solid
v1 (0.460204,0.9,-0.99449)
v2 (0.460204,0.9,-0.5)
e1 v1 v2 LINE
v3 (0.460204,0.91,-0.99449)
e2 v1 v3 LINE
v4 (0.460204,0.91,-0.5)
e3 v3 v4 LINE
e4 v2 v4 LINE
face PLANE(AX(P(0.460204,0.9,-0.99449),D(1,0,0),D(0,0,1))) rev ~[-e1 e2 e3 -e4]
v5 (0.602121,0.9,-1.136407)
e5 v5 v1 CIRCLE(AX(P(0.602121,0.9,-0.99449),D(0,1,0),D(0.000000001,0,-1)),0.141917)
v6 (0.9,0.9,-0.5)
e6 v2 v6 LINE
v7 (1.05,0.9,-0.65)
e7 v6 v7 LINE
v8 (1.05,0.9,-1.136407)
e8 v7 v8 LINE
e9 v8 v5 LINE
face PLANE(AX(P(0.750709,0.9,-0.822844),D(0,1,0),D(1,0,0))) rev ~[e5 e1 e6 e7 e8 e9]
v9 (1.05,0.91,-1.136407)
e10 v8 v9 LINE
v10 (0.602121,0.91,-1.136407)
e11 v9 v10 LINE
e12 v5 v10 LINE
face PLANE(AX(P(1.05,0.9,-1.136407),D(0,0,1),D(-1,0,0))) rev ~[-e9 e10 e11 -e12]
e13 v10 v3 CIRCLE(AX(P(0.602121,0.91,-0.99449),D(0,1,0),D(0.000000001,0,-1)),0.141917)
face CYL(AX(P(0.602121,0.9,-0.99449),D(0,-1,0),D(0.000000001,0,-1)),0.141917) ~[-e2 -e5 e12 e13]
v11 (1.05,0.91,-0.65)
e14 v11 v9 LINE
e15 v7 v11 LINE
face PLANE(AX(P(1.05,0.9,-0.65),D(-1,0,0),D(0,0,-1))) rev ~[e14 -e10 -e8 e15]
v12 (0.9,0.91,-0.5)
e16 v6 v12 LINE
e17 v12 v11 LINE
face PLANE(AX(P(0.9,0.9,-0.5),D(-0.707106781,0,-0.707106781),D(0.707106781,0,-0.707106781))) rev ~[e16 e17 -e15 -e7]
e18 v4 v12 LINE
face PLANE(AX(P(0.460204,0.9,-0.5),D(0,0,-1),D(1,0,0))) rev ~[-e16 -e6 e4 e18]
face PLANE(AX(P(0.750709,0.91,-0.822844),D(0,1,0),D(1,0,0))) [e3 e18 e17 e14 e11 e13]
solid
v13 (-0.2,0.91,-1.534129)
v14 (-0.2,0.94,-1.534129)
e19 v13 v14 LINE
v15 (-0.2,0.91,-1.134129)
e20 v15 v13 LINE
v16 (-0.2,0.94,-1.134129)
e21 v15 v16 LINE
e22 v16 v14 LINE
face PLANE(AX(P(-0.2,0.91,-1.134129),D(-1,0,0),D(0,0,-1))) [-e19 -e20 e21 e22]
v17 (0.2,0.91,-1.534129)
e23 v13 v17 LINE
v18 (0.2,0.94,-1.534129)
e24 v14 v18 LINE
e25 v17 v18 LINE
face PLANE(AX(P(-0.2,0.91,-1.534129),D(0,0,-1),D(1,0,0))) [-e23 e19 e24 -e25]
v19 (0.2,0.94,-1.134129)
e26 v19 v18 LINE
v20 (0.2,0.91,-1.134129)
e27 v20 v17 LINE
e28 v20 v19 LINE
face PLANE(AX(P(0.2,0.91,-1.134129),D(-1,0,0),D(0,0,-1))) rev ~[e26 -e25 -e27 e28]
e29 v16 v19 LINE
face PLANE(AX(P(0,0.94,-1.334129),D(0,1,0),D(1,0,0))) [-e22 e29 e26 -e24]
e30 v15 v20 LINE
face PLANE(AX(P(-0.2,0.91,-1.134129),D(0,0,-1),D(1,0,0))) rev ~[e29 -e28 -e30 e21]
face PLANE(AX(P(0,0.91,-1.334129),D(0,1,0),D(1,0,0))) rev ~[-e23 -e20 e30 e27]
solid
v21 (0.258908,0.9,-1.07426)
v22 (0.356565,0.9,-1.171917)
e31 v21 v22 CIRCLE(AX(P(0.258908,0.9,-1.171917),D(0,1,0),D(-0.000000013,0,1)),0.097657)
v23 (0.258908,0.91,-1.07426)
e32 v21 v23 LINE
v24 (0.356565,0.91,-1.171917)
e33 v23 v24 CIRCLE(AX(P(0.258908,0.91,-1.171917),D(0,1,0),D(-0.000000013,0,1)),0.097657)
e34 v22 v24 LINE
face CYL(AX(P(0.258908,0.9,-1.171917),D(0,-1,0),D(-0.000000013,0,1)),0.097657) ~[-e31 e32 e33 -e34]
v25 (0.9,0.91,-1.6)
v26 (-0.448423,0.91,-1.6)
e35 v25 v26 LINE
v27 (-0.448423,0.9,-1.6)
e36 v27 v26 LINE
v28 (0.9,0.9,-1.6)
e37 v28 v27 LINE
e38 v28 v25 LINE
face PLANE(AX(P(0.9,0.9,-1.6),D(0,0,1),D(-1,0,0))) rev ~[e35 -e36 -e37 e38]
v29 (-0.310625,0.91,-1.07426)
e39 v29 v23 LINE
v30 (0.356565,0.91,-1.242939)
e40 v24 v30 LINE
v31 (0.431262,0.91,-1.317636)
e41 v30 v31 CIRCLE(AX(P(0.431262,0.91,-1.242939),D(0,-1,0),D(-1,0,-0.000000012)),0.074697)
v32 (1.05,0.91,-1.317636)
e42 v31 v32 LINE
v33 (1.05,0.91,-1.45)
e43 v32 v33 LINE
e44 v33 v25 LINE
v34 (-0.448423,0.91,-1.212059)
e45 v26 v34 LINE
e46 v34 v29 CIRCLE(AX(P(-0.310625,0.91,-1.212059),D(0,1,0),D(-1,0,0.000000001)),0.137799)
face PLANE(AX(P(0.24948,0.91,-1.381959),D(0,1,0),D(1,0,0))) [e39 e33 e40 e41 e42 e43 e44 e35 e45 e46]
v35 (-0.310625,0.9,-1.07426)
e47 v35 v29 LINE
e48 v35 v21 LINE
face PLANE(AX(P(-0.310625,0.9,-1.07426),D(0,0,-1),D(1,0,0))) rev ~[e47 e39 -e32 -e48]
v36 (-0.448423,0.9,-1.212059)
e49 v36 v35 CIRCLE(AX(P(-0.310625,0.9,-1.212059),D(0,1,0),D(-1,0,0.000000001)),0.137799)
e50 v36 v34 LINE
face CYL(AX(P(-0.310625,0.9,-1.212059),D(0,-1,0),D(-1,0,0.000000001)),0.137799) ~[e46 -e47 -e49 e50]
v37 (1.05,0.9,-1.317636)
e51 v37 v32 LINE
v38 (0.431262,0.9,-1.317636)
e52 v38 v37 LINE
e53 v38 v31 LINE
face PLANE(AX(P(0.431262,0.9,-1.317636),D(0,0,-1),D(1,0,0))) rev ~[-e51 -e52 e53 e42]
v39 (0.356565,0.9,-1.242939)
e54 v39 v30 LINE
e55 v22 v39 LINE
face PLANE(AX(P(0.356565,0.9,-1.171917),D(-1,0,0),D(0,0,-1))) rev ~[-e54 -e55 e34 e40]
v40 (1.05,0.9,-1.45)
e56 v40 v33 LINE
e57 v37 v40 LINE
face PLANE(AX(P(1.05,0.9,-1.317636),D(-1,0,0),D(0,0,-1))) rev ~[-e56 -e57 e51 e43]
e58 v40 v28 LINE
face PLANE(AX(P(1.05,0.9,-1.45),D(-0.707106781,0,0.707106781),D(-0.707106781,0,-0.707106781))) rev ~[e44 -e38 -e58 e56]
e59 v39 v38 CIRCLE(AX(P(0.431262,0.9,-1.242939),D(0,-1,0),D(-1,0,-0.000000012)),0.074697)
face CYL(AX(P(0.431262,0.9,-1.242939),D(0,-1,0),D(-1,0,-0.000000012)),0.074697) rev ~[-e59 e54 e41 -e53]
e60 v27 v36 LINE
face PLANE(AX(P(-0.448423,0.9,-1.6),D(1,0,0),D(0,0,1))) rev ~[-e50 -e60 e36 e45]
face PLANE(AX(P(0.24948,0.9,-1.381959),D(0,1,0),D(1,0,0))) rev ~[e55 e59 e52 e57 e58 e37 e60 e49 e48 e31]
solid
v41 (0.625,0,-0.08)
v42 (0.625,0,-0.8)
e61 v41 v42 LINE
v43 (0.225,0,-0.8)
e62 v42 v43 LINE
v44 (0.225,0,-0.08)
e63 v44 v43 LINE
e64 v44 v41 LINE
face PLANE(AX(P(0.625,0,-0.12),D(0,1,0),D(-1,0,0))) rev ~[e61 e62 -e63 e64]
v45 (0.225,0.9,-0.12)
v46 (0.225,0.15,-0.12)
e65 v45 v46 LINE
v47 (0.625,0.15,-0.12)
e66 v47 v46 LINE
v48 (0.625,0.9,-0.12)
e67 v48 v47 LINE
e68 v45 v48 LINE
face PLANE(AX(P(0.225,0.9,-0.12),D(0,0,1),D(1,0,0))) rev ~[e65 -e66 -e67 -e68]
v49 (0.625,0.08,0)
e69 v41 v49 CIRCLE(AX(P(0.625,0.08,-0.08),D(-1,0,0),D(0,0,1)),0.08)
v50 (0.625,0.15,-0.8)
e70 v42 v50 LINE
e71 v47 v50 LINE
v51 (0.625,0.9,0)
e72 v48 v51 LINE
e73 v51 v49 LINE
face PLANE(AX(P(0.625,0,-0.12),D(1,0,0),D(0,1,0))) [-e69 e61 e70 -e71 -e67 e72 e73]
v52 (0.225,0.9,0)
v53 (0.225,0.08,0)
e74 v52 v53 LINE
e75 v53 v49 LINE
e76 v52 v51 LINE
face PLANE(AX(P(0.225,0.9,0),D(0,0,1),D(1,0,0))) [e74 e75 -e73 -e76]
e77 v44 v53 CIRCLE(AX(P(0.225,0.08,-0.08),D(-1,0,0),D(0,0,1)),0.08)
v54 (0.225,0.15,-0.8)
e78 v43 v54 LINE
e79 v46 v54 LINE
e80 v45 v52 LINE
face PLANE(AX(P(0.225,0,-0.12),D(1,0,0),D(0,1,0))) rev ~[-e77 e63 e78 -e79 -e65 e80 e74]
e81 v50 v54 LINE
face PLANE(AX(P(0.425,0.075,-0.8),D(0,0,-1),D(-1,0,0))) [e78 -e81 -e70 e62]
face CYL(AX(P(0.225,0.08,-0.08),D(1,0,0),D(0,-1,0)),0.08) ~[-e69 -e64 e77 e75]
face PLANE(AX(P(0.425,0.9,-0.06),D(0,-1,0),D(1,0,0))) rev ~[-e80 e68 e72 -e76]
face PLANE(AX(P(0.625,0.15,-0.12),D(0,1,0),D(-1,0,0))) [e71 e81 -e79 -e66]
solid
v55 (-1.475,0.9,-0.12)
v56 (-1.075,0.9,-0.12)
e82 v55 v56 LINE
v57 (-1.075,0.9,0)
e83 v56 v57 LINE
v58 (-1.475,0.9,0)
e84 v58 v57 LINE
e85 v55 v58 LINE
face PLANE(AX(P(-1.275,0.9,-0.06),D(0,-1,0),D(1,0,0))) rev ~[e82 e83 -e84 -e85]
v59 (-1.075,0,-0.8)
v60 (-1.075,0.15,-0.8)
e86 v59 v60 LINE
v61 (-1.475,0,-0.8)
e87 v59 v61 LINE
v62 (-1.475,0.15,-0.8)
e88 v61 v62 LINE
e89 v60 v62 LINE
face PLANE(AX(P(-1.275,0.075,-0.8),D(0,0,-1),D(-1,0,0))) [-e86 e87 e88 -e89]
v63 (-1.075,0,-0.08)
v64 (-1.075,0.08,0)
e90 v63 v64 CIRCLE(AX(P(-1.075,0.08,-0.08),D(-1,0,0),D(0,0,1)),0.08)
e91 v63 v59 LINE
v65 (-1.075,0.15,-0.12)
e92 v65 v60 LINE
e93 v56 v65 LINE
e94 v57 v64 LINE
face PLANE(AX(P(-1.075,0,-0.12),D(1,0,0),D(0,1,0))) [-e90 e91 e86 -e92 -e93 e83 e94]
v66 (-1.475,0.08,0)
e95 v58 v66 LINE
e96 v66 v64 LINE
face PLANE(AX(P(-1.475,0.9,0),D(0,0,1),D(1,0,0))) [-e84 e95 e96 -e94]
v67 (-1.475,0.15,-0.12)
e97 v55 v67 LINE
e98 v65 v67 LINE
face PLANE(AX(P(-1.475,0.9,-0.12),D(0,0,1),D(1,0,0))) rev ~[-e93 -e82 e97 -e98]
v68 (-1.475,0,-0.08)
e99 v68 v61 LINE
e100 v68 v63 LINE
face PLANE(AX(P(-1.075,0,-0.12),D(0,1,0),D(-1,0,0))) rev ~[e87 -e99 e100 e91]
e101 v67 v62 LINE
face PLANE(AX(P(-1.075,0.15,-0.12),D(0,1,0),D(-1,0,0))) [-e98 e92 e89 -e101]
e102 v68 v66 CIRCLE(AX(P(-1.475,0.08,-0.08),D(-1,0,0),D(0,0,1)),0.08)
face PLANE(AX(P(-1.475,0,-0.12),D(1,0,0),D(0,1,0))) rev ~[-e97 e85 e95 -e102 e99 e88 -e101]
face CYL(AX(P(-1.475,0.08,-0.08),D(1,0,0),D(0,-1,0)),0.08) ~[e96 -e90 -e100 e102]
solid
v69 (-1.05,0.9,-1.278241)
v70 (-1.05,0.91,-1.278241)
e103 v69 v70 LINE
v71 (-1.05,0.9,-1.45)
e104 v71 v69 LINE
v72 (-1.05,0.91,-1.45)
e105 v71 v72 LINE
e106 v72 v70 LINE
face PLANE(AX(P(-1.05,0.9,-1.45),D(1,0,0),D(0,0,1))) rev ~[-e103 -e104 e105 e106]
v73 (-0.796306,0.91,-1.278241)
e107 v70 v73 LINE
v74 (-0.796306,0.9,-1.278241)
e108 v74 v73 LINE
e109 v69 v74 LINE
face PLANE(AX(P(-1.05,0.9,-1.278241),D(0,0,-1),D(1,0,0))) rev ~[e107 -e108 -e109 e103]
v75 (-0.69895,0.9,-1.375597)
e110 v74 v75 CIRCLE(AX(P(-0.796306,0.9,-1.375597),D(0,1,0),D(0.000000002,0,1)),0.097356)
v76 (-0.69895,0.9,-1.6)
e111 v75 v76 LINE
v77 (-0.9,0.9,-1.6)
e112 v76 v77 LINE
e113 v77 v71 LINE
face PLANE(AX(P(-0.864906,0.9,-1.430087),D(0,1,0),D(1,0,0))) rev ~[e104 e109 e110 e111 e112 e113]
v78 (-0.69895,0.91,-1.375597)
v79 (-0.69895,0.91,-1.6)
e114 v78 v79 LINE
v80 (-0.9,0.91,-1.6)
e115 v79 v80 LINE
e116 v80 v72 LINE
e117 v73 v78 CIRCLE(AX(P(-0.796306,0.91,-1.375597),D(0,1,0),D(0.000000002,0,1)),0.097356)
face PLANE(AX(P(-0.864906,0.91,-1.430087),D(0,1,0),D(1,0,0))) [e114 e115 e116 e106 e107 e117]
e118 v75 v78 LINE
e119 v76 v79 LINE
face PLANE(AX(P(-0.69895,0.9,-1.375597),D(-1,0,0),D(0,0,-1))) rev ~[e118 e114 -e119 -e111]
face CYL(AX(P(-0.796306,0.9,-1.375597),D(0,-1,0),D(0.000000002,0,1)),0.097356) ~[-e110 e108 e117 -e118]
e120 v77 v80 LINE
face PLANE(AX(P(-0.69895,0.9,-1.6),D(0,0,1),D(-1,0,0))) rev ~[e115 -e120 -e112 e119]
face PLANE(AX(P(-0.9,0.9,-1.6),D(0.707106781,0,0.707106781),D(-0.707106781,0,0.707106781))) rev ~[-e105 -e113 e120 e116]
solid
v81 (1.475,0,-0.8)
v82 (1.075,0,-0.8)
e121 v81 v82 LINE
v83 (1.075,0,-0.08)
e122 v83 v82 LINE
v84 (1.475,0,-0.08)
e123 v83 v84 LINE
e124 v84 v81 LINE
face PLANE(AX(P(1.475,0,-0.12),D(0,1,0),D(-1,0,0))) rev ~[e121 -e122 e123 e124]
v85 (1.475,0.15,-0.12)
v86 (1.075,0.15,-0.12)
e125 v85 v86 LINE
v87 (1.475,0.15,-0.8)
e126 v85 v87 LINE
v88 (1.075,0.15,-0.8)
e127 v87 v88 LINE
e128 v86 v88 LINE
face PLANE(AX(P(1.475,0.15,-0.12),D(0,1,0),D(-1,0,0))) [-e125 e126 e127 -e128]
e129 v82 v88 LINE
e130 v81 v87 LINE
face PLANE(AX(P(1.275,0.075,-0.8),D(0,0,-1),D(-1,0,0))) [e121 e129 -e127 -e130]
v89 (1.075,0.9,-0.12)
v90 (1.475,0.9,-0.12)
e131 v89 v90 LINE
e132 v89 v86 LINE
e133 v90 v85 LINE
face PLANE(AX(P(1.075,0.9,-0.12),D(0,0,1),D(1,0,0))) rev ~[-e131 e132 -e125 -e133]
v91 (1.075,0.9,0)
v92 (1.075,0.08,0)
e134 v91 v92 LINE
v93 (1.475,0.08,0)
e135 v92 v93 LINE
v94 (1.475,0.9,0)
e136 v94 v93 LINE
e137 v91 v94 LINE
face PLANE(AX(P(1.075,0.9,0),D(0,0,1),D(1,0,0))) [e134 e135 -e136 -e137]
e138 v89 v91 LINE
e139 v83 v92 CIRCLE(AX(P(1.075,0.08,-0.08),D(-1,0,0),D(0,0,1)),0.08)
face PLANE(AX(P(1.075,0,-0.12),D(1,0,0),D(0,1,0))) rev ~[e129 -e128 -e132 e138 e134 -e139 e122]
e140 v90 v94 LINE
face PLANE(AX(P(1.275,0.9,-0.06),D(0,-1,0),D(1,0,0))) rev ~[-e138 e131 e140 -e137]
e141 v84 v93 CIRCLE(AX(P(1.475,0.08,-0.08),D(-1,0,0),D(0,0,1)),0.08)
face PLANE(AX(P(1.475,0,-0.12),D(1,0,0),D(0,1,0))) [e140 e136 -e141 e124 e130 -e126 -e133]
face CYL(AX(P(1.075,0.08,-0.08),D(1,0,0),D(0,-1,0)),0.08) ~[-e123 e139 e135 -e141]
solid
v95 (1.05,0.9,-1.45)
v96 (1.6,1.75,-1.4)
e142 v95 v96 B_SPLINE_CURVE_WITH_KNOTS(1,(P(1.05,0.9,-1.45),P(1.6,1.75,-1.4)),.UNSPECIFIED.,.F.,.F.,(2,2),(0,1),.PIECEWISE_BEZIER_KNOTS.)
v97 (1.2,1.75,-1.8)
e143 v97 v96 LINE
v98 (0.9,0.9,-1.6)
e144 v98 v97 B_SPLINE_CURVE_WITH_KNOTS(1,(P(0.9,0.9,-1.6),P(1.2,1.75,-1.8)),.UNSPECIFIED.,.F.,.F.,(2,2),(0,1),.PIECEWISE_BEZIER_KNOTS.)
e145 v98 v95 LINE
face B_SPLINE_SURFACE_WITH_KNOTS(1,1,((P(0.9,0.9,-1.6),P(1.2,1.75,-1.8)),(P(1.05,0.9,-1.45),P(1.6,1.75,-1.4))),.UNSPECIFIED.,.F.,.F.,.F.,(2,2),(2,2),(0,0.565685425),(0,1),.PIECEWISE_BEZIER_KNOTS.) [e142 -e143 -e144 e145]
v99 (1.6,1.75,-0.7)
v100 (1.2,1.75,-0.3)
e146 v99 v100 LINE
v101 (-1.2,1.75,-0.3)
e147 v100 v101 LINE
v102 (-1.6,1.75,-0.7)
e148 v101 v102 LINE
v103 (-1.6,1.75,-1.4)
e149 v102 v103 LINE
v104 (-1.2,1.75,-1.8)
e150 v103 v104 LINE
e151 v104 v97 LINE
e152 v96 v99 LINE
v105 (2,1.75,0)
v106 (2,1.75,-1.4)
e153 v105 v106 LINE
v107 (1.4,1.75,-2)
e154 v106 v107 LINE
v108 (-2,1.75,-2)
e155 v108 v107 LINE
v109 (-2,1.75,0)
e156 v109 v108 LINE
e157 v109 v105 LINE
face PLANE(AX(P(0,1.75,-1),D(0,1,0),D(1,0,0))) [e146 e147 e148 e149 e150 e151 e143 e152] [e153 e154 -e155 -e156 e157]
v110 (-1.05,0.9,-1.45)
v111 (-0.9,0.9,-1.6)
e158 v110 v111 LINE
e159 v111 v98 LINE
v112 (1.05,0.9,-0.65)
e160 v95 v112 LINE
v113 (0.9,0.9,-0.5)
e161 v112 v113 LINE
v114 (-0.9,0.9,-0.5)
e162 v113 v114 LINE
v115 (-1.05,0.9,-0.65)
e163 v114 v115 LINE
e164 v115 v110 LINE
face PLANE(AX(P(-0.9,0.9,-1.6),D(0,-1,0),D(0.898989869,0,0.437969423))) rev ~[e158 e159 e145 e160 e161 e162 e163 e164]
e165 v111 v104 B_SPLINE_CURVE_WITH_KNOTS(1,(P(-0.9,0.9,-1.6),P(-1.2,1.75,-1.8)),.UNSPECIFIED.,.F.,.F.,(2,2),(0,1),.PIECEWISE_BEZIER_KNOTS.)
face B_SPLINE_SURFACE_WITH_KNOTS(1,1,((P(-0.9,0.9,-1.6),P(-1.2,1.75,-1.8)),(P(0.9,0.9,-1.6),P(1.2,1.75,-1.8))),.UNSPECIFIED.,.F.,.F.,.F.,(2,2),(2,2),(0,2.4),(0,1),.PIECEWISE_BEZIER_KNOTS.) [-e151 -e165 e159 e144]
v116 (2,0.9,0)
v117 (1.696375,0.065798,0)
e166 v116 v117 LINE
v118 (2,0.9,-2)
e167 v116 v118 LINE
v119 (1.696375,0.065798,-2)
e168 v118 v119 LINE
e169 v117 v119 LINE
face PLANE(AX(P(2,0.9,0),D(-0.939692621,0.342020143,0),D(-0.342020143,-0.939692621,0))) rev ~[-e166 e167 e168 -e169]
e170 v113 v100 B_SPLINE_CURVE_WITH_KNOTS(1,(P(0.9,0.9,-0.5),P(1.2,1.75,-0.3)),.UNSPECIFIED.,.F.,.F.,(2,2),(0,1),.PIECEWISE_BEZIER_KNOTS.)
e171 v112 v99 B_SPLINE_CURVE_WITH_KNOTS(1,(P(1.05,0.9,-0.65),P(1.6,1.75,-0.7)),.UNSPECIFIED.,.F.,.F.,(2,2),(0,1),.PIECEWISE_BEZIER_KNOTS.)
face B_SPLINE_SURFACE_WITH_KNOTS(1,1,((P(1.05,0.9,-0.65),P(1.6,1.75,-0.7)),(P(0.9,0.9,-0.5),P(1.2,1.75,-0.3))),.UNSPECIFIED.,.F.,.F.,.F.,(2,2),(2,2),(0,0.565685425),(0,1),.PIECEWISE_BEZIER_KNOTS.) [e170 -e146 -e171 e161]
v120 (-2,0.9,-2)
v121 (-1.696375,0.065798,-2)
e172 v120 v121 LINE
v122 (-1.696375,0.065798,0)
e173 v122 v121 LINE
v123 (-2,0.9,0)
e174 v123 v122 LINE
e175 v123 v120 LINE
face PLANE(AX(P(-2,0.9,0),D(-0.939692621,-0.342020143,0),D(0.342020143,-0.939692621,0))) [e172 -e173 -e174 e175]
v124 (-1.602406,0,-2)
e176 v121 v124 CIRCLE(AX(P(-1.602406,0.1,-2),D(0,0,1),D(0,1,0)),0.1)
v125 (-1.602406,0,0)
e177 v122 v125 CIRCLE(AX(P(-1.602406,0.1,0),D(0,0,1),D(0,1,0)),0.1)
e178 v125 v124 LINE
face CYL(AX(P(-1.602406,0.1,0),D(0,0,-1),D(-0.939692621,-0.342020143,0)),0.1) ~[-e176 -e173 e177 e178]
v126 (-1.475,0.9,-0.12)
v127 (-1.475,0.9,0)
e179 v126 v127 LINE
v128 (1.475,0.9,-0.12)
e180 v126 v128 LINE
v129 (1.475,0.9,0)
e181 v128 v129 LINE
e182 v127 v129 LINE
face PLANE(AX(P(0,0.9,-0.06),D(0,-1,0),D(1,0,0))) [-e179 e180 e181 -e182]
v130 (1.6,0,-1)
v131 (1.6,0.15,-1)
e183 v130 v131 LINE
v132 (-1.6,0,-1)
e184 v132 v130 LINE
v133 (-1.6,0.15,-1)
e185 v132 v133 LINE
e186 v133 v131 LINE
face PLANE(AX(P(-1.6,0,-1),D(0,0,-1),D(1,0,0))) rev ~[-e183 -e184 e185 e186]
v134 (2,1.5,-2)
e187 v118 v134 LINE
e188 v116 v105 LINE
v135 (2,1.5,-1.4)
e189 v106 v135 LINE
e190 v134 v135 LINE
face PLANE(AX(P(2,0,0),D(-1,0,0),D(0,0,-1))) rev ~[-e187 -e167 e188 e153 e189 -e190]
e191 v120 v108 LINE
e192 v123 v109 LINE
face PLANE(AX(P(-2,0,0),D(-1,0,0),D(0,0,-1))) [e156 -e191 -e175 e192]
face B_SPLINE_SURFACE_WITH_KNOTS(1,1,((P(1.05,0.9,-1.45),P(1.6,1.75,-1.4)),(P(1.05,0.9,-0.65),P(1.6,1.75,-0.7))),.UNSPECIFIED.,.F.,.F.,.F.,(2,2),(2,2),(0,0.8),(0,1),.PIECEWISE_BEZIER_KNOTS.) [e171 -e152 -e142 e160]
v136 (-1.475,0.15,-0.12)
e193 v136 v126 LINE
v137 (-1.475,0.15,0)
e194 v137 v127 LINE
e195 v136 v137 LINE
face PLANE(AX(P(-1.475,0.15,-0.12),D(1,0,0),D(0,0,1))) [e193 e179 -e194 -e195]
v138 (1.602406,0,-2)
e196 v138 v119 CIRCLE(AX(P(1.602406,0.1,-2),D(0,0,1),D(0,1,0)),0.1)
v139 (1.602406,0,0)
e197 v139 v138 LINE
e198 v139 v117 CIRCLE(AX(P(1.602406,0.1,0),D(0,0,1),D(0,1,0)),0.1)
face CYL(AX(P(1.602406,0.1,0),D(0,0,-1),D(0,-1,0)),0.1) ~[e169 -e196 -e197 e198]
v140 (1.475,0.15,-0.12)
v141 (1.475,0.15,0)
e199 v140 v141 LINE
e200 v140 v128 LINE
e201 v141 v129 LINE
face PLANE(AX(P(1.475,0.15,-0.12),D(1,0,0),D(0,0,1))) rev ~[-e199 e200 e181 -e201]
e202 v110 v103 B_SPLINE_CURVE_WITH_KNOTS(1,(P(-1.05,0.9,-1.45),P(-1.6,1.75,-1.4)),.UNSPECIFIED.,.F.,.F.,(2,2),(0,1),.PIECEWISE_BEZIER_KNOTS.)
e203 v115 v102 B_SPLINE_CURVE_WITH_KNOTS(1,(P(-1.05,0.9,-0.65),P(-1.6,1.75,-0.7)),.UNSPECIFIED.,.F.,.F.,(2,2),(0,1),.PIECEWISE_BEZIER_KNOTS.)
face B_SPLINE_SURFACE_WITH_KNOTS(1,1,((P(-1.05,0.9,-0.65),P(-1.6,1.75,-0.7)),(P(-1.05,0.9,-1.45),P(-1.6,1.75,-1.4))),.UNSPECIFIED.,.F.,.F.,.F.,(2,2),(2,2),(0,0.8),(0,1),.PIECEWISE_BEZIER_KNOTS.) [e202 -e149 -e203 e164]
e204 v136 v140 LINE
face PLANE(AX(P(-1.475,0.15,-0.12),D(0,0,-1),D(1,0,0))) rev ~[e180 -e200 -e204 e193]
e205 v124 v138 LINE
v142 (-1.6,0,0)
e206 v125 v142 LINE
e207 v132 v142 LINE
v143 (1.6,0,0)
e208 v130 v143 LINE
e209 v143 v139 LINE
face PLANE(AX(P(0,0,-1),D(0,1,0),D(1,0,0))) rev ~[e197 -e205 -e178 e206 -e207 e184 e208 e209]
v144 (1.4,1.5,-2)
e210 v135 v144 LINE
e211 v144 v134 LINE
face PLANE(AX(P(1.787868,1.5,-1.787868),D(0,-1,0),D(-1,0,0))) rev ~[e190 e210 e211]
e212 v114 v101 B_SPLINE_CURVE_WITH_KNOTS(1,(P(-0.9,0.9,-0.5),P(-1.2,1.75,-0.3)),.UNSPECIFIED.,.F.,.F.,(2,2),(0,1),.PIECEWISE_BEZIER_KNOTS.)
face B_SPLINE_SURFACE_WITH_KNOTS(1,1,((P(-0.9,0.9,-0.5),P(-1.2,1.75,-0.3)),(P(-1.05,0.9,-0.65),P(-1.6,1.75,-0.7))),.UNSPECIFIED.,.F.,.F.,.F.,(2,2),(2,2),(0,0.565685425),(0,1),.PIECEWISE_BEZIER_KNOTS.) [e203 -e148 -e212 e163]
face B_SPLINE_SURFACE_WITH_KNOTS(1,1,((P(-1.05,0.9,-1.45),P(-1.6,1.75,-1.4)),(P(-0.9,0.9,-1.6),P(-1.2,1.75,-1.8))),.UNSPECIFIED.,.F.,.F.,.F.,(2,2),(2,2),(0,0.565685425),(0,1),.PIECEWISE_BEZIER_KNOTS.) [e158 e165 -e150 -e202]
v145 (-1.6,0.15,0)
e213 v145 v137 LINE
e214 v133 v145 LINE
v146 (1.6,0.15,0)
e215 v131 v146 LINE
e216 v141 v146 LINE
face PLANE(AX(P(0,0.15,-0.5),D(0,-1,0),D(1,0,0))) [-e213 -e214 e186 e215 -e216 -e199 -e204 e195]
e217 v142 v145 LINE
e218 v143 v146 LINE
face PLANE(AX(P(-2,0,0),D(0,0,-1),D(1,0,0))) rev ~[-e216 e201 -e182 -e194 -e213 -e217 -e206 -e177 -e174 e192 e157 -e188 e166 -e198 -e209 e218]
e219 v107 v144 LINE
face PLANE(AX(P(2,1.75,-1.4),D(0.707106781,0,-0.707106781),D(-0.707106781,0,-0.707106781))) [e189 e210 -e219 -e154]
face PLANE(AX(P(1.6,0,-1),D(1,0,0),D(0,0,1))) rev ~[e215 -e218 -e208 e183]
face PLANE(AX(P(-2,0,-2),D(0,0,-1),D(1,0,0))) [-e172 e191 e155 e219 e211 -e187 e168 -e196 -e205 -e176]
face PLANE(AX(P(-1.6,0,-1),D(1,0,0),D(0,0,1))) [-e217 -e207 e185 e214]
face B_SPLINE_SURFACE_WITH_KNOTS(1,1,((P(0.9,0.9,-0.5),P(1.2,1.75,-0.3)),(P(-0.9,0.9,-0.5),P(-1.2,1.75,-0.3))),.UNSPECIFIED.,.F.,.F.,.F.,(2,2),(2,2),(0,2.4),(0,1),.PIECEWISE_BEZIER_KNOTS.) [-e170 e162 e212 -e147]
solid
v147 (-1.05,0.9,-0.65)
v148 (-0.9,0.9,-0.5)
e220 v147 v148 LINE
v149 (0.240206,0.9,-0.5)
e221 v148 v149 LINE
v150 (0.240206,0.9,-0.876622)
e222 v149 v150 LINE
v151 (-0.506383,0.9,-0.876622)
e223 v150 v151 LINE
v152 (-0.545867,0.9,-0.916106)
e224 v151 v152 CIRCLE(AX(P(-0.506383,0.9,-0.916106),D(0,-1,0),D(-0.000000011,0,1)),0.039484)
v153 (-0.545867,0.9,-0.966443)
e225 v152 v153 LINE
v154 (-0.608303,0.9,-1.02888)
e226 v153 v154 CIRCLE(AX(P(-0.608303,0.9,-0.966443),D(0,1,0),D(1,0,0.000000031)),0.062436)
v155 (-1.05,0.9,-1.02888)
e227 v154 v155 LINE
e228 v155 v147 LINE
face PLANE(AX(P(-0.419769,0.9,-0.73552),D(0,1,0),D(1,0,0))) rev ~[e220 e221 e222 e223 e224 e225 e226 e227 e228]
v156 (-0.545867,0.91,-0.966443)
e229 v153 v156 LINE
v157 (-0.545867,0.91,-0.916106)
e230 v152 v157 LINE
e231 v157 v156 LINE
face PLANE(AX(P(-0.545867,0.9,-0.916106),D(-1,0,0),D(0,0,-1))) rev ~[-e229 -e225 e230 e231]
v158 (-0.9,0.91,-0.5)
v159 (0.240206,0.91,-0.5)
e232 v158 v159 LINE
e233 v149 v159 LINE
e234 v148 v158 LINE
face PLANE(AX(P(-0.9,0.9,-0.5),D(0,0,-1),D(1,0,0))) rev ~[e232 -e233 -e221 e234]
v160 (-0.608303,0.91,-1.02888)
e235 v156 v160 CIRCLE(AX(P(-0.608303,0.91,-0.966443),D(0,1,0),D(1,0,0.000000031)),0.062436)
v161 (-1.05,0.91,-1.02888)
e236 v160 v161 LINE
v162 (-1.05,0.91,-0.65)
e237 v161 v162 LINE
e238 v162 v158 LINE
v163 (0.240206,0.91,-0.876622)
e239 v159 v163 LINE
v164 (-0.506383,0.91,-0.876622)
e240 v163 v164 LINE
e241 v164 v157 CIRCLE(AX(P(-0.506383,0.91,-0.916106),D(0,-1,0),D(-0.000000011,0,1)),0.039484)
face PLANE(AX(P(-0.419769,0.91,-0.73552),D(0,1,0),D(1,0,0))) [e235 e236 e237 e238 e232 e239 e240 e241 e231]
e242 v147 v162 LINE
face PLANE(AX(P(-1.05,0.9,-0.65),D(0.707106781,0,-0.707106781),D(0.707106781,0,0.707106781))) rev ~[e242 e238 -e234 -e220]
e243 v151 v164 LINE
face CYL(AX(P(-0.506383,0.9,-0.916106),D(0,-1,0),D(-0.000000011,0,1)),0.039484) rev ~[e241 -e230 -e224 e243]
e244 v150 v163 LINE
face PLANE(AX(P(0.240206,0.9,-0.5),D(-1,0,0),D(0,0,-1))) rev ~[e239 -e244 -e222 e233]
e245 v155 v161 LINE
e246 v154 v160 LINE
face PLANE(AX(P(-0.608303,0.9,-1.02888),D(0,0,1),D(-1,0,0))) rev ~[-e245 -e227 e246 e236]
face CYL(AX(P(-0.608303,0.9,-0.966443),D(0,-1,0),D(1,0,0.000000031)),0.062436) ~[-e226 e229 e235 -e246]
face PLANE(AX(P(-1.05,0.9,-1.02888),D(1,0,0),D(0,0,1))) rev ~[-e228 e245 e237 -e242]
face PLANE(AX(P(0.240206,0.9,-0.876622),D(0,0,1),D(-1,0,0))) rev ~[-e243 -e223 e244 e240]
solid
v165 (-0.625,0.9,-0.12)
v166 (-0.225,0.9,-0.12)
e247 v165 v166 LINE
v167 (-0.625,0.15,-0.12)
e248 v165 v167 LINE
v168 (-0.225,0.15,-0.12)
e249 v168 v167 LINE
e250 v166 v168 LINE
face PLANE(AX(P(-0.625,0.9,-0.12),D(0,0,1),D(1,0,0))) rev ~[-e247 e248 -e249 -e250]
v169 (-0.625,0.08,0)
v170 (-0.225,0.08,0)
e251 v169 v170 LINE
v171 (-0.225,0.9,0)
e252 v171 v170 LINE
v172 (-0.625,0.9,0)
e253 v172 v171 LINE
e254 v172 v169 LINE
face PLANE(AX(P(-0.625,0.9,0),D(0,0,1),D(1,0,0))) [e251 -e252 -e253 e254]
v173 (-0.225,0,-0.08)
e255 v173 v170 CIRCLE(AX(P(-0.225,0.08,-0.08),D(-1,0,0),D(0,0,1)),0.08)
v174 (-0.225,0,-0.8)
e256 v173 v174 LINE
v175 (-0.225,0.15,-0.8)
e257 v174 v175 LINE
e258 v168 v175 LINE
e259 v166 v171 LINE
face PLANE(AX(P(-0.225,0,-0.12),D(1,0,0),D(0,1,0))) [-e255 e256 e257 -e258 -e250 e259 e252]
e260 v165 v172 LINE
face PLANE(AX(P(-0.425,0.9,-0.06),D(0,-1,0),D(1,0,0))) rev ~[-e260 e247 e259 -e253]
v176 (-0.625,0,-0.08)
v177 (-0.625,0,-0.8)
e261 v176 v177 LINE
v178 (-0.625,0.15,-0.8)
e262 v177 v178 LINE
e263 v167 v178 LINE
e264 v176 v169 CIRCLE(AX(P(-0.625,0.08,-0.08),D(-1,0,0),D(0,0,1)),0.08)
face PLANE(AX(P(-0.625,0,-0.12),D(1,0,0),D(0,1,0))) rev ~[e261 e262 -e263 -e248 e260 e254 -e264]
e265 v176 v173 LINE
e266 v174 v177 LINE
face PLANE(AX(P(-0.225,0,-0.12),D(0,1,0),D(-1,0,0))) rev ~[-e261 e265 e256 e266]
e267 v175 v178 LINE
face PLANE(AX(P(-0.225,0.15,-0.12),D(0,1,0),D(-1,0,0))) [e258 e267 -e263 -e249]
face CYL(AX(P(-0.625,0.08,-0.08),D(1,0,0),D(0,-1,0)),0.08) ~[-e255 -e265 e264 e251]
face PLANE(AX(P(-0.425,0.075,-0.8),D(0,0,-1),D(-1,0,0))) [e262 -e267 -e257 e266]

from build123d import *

# Parameters (mm, degrees)
SKETCH_1_W          = 4
SKETCH_1_H          = 2
EXTRUDE_1_DEPTH     = 1.75
CUT_EXTRUDE_1_REACH = 4
CUT_EXTRUDE_2_DEPTH = 0.25
FILLET_1_R          = 0.1
SKETCH_8_W          = 3.2
SKETCH_8_H          = 1
CUT_EXTRUDE_3_DEPTH = 0.15
SKETCH_9_W          = 2.95
SKETCH_9_H          = 0.12
CUT_EXTRUDE_4_DEPTH = 0.75
SKETCH_10_W         = 0.4
SKETCH_10_H         = 0.12
EXTRUDE_2_DEPTH     = 0.9
EXTRUDE_2_2_DEPTH   = 0.9
EXTRUDE_2_3_DEPTH   = 0.9
EXTRUDE_2_4_DEPTH   = 0.9
SKETCH_11_W         = 0.4
SKETCH_11_H         = 0.15
EXTRUDE_3_DEPTH     = 0.68
SKETCH_13_W         = 0.4
SKETCH_13_H         = 0.15
EXTRUDE_4_DEPTH     = 0.68
SKETCH_16_W         = 0.4
SKETCH_16_H         = 0.15
EXTRUDE_5_DEPTH     = 0.68
SKETCH_17_W         = 0.4
SKETCH_17_H         = 0.15
EXTRUDE_6_DEPTH     = 0.68
FILLET_2_R          = 0.08
FILLET_3_R          = 0.08
FILLET_4_R          = 0.08
FILLET_5_R          = 0.08
EXTRUDE_7_DEPTH     = 0.01
EXTRUDE_7_2_DEPTH   = 0.01
EXTRUDE_7_3_DEPTH   = 0.01
EXTRUDE_7_4_DEPTH   = 0.01
SKETCH_19_W         = 0.4
SKETCH_19_H         = 0.4
EXTRUDE_8_DEPTH     = 0.03


with BuildPart() as part:
    # Sketch 1 → Extrude 1 (new body)
    with BuildSketch(Plane(origin=(0, 0, 0), x_dir=(1, 0, 0), z_dir=(0, 1, 0))):
        with Locations((0, 1)):
            Rectangle(SKETCH_1_W, SKETCH_1_H)
    extrude(amount=EXTRUDE_1_DEPTH)

    # Sketch 2 → Cut-Extrude 1 (cut, up to next)
    with BuildSketch(Plane.XY, mode=Mode.PRIVATE) as cut_extrude_1_sk1:
        Polygon((-2, 0.9), (-1.672426789, 0), (-2, 0), align=None)
    cut_extrude_1_tool1 = extrude(cut_extrude_1_sk1.sketch, amount=-CUT_EXTRUDE_1_REACH, mode=Mode.PRIVATE) & part.part
    add(cut_extrude_1_tool1.solids().sort_by_distance((-1.890809, 0.3, 0))[0], mode=Mode.SUBTRACT)
    # Sketch 2 → Cut-Extrude 1 (cut, up to next)
    with BuildSketch(Plane.XY, mode=Mode.PRIVATE) as cut_extrude_1_sk2:
        Polygon((2, 0.9), (1.672426789, 0), (2, 0), align=None)
    cut_extrude_1_tool2 = extrude(cut_extrude_1_sk2.sketch, amount=-CUT_EXTRUDE_1_REACH, mode=Mode.PRIVATE) & part.part
    add(cut_extrude_1_tool2.solids().sort_by_distance((1.890809, 0.3, 0))[0], mode=Mode.SUBTRACT)

    # Sketch 6 → Loft 1 section 0
    with BuildSketch(Plane(origin=(0, 0.9, 0), x_dir=(1, 0, 0), z_dir=(0, 1, 0))):
        Polygon((-0.9, 1.6), (0.9, 1.6), (1.05, 1.45), (1.05, 0.65), (0.9, 0.5), (-0.9, 0.5), (-1.05, 0.65), (-1.05, 1.45), align=None)
    # Sketch 4 → Loft 1 section 1
    with BuildSketch(Plane(origin=(0, 1.75, 0), x_dir=(1, 0, 0), z_dir=(0, 1, 0))):
        Polygon((-1.6, 1.4), (-1.2, 1.8), (1.2, 1.8), (1.6, 1.4), (1.6, 0.7), (1.2, 0.3), (-1.2, 0.3), (-1.6, 0.7), align=None)
    loft(mode=Mode.SUBTRACT)

    # Sketch 7 → Cut-Extrude 2 (cut)
    with BuildSketch(Plane(origin=(0, 1.75, 0), x_dir=(1, 0, 0), z_dir=(0, 1, 0))):
        Polygon((2, 1.4), (1.4, 2), (2, 2), align=None)
    extrude(amount=-CUT_EXTRUDE_2_DEPTH, mode=Mode.SUBTRACT)

    # Fillet 1
    fillet_1_edges = [part.edges().sort_by_distance(p)[0] for p in [
        (-1.672426789, 0, -1),
        (1.672426789, 0, -1),
    ]]
    fillet(fillet_1_edges, radius=FILLET_1_R)

    # Sketch 8 → Cut-Extrude 3 (cut)
    with BuildSketch(Plane.XZ):
        with Locations((0, -0.5)):
            Rectangle(SKETCH_8_W, SKETCH_8_H)
    extrude(amount=-CUT_EXTRUDE_3_DEPTH, mode=Mode.SUBTRACT)

    # Sketch 9 → Cut-Extrude 4 (cut)
    with BuildSketch(Plane.XZ.offset(-0.15)):
        with Locations((0, -0.06)):
            Rectangle(SKETCH_9_W, SKETCH_9_H)
    extrude(amount=-CUT_EXTRUDE_4_DEPTH, mode=Mode.SUBTRACT)


with BuildPart() as body_2:
    # Sketch 10 → Extrude 2 (new body)
    with BuildSketch(Plane.XZ.offset(-0.9)):
        with Locations((-1.275, -0.06)):
            Rectangle(SKETCH_10_W, SKETCH_10_H)
    extrude(amount=EXTRUDE_2_DEPTH)


with BuildPart() as body_3:
    # Sketch 10 → Extrude 2 2 (new body)
    with BuildSketch(Plane.XZ.offset(-0.9)):
        with Locations((-0.425, -0.06)):
            Rectangle(SKETCH_10_W, SKETCH_10_H)
    extrude(amount=EXTRUDE_2_2_DEPTH)


with BuildPart() as body_4:
    # Sketch 10 → Extrude 2 3 (new body)
    with BuildSketch(Plane.XZ.offset(-0.9)):
        with Locations((0.425, -0.06)):
            Rectangle(SKETCH_10_W, SKETCH_10_H)
    extrude(amount=EXTRUDE_2_3_DEPTH)


with BuildPart() as body_5:
    # Sketch 10 → Extrude 2 4 (new body)
    with BuildSketch(Plane.XZ.offset(-0.9)):
        with Locations((1.275, -0.06)):
            Rectangle(SKETCH_10_W, SKETCH_10_H)
    extrude(amount=EXTRUDE_2_4_DEPTH)


with BuildPart() as body_6:
    # Sketch 11 → Extrude 3 (new body)
    with BuildSketch(Plane(origin=(0, 0, -0.12), x_dir=(-1, 0, 0), z_dir=(0, 0, -1))):
        with Locations((-1.275, 0.075)):
            Rectangle(SKETCH_11_W, SKETCH_11_H)
    extrude(amount=EXTRUDE_3_DEPTH)


with BuildPart() as body_7:
    # Sketch 13 → Extrude 4 (new body)
    with BuildSketch(Plane(origin=(0, 0, -0.12), x_dir=(-1, 0, 0), z_dir=(0, 0, -1))):
        with Locations((-0.425, 0.075)):
            Rectangle(SKETCH_13_W, SKETCH_13_H)
    extrude(amount=EXTRUDE_4_DEPTH)


with BuildPart() as body_8:
    # Sketch 16 → Extrude 5 (new body)
    with BuildSketch(Plane(origin=(0, 0, -0.12), x_dir=(-1, 0, 0), z_dir=(0, 0, -1))):
        with Locations((0.425, 0.075)):
            Rectangle(SKETCH_16_W, SKETCH_16_H)
    extrude(amount=EXTRUDE_5_DEPTH)


with BuildPart() as body_9:
    # Sketch 17 → Extrude 6 (new body)
    with BuildSketch(Plane(origin=(0, 0, -0.12), x_dir=(-1, 0, 0), z_dir=(0, 0, -1))):
        with Locations((1.275, 0.075)):
            Rectangle(SKETCH_17_W, SKETCH_17_H)
    extrude(amount=EXTRUDE_6_DEPTH)


with BuildPart() as body_5_1:
    add(body_5.part)

    # Combine 2: union body 6
    add(body_6.part)

    # Fillet 2
    fillet_2_edges = [body_5_1.edges().sort_by_distance(p)[0] for p in [
        (1.275, 0, 0),
    ]]
    fillet(fillet_2_edges, radius=FILLET_2_R)


with BuildPart() as body_2_1:
    add(body_2.part)

    # Combine 3: union body 9
    add(body_9.part)

    # Fillet 5
    fillet_5_edges = [body_2_1.edges().sort_by_distance(p)[0] for p in [
        (-1.275, 0, 0),
    ]]
    fillet(fillet_5_edges, radius=FILLET_5_R)


with BuildPart() as body_4_1:
    add(body_4.part)

    # Combine 6: union body 7
    add(body_7.part)

    # Fillet 3
    fillet_3_edges = [body_4_1.edges().sort_by_distance(p)[0] for p in [
        (0.425, 0, 0),
    ]]
    fillet(fillet_3_edges, radius=FILLET_3_R)


with BuildPart() as body_3_1:
    add(body_3.part)

    # Combine 7: union body 8
    add(body_8.part)

    # Fillet 4
    fillet_4_edges = [body_3_1.edges().sort_by_distance(p)[0] for p in [
        (-0.425, 0, 0),
    ]]
    fillet(fillet_4_edges, radius=FILLET_4_R)


with BuildPart() as body_6_2:
    # Sketch 18 → Extrude 7 (new body)
    with BuildSketch(Plane(origin=(0, 0.9, 0), x_dir=(1, 0, 0), z_dir=(0, 1, 0))):
        with BuildLine():
            Line((1.05, 1.45), (0.9, 1.6))
            Line((0.9, 1.6), (-0.448423463, 1.6))
            Line((-0.448423463, 1.6), (-0.448423463, 1.212059073))
            ThreePointArc((-0.448423463, 1.212059073), (-0.408063152, 1.114620663), (-0.310624741, 1.074260352))
            Line((-0.310624741, 1.074260352), (0.258908283, 1.074260352))
            ThreePointArc((0.258908283, 1.074260352), (0.32796203, 1.10286335), (0.356565028, 1.171917097))
            Line((0.356565028, 1.171917097), (0.356565028, 1.242938885))
            ThreePointArc((0.356565028, 1.242938885), (0.378443208, 1.295757483), (0.431261807, 1.317635663))
            Line((0.431261807, 1.317635663), (1.05, 1.317635663))
            Line((1.05, 1.317635663), (1.05, 1.45))
        make_face()
    extrude(amount=EXTRUDE_7_DEPTH)


with BuildPart() as body_7_2:
    # Sketch 18 → Extrude 7 2 (new body)
    with BuildSketch(Plane(origin=(0, 0.9, 0), x_dir=(1, 0, 0), z_dir=(0, 1, 0))):
        with BuildLine():
            Line((1.05, 0.65), (1.05, 1.136407249))
            Line((1.05, 1.136407249), (0.602120574, 1.136407249))
            ThreePointArc((0.602120574, 1.136407249), (0.501770239, 1.094840779), (0.46020377, 0.994490444))
            Line((0.46020377, 0.994490444), (0.46020377, 0.5))
            Line((0.46020377, 0.5), (0.9, 0.5))
            Line((0.9, 0.5), (1.05, 0.65))
        make_face()
    extrude(amount=EXTRUDE_7_2_DEPTH)


with BuildPart() as body_8_2:
    # Sketch 18 → Extrude 7 3 (new body)
    with BuildSketch(Plane(origin=(0, 0.9, 0), x_dir=(1, 0, 0), z_dir=(0, 1, 0))):
        with BuildLine():
            Line((-0.9, 0.5), (0.240206256, 0.5))
            Line((0.240206256, 0.5), (0.240206256, 0.876622221))
            Line((0.240206256, 0.876622221), (-0.506383258, 0.876622221))
            ThreePointArc((-0.506383258, 0.876622221), (-0.534302481, 0.888186742), (-0.545867002, 0.916105964))
            Line((-0.545867002, 0.916105964), (-0.545867002, 0.966443449))
            ThreePointArc((-0.545867002, 0.966443449), (-0.564154154, 1.010592542), (-0.608303247, 1.028879695))
            Line((-0.608303247, 1.028879695), (-1.05, 1.028879695))
            Line((-1.05, 1.028879695), (-1.05, 0.65))
            Line((-1.05, 0.65), (-0.9, 0.5))
        make_face()
    extrude(amount=EXTRUDE_7_3_DEPTH)


with BuildPart() as body_9_2:
    # Sketch 18 → Extrude 7 4 (new body)
    with BuildSketch(Plane(origin=(0, 0.9, 0), x_dir=(1, 0, 0), z_dir=(0, 1, 0))):
        with BuildLine():
            Line((-1.05, 1.45), (-1.05, 1.278241059))
            Line((-1.05, 1.278241059), (-0.79630602, 1.278241059))
            ThreePointArc((-0.79630602, 1.278241059), (-0.727464657, 1.306756085), (-0.69894963, 1.375597448))
            Line((-0.69894963, 1.375597448), (-0.69894963, 1.6))
            Line((-0.69894963, 1.6), (-0.9, 1.6))
            Line((-0.9, 1.6), (-1.05, 1.45))
        make_face()
    extrude(amount=EXTRUDE_7_4_DEPTH)


with BuildPart() as body_10:
    # Sketch 19 → Extrude 8 (new body)
    with BuildSketch(Plane(origin=(0, 0.91, 0), x_dir=(1, 0, 0), z_dir=(0, 1, 0))):
        with Locations((0, 1.334128878)):
            Rectangle(SKETCH_19_W, SKETCH_19_H)
    extrude(amount=EXTRUDE_8_DEPTH)


solid = Compound([part.part, body_5_1.part, body_2_1.part, body_4_1.part, body_3_1.part, body_6_2.part, body_7_2.part, body_8_2.part, body_9_2.part, body_10.part])
